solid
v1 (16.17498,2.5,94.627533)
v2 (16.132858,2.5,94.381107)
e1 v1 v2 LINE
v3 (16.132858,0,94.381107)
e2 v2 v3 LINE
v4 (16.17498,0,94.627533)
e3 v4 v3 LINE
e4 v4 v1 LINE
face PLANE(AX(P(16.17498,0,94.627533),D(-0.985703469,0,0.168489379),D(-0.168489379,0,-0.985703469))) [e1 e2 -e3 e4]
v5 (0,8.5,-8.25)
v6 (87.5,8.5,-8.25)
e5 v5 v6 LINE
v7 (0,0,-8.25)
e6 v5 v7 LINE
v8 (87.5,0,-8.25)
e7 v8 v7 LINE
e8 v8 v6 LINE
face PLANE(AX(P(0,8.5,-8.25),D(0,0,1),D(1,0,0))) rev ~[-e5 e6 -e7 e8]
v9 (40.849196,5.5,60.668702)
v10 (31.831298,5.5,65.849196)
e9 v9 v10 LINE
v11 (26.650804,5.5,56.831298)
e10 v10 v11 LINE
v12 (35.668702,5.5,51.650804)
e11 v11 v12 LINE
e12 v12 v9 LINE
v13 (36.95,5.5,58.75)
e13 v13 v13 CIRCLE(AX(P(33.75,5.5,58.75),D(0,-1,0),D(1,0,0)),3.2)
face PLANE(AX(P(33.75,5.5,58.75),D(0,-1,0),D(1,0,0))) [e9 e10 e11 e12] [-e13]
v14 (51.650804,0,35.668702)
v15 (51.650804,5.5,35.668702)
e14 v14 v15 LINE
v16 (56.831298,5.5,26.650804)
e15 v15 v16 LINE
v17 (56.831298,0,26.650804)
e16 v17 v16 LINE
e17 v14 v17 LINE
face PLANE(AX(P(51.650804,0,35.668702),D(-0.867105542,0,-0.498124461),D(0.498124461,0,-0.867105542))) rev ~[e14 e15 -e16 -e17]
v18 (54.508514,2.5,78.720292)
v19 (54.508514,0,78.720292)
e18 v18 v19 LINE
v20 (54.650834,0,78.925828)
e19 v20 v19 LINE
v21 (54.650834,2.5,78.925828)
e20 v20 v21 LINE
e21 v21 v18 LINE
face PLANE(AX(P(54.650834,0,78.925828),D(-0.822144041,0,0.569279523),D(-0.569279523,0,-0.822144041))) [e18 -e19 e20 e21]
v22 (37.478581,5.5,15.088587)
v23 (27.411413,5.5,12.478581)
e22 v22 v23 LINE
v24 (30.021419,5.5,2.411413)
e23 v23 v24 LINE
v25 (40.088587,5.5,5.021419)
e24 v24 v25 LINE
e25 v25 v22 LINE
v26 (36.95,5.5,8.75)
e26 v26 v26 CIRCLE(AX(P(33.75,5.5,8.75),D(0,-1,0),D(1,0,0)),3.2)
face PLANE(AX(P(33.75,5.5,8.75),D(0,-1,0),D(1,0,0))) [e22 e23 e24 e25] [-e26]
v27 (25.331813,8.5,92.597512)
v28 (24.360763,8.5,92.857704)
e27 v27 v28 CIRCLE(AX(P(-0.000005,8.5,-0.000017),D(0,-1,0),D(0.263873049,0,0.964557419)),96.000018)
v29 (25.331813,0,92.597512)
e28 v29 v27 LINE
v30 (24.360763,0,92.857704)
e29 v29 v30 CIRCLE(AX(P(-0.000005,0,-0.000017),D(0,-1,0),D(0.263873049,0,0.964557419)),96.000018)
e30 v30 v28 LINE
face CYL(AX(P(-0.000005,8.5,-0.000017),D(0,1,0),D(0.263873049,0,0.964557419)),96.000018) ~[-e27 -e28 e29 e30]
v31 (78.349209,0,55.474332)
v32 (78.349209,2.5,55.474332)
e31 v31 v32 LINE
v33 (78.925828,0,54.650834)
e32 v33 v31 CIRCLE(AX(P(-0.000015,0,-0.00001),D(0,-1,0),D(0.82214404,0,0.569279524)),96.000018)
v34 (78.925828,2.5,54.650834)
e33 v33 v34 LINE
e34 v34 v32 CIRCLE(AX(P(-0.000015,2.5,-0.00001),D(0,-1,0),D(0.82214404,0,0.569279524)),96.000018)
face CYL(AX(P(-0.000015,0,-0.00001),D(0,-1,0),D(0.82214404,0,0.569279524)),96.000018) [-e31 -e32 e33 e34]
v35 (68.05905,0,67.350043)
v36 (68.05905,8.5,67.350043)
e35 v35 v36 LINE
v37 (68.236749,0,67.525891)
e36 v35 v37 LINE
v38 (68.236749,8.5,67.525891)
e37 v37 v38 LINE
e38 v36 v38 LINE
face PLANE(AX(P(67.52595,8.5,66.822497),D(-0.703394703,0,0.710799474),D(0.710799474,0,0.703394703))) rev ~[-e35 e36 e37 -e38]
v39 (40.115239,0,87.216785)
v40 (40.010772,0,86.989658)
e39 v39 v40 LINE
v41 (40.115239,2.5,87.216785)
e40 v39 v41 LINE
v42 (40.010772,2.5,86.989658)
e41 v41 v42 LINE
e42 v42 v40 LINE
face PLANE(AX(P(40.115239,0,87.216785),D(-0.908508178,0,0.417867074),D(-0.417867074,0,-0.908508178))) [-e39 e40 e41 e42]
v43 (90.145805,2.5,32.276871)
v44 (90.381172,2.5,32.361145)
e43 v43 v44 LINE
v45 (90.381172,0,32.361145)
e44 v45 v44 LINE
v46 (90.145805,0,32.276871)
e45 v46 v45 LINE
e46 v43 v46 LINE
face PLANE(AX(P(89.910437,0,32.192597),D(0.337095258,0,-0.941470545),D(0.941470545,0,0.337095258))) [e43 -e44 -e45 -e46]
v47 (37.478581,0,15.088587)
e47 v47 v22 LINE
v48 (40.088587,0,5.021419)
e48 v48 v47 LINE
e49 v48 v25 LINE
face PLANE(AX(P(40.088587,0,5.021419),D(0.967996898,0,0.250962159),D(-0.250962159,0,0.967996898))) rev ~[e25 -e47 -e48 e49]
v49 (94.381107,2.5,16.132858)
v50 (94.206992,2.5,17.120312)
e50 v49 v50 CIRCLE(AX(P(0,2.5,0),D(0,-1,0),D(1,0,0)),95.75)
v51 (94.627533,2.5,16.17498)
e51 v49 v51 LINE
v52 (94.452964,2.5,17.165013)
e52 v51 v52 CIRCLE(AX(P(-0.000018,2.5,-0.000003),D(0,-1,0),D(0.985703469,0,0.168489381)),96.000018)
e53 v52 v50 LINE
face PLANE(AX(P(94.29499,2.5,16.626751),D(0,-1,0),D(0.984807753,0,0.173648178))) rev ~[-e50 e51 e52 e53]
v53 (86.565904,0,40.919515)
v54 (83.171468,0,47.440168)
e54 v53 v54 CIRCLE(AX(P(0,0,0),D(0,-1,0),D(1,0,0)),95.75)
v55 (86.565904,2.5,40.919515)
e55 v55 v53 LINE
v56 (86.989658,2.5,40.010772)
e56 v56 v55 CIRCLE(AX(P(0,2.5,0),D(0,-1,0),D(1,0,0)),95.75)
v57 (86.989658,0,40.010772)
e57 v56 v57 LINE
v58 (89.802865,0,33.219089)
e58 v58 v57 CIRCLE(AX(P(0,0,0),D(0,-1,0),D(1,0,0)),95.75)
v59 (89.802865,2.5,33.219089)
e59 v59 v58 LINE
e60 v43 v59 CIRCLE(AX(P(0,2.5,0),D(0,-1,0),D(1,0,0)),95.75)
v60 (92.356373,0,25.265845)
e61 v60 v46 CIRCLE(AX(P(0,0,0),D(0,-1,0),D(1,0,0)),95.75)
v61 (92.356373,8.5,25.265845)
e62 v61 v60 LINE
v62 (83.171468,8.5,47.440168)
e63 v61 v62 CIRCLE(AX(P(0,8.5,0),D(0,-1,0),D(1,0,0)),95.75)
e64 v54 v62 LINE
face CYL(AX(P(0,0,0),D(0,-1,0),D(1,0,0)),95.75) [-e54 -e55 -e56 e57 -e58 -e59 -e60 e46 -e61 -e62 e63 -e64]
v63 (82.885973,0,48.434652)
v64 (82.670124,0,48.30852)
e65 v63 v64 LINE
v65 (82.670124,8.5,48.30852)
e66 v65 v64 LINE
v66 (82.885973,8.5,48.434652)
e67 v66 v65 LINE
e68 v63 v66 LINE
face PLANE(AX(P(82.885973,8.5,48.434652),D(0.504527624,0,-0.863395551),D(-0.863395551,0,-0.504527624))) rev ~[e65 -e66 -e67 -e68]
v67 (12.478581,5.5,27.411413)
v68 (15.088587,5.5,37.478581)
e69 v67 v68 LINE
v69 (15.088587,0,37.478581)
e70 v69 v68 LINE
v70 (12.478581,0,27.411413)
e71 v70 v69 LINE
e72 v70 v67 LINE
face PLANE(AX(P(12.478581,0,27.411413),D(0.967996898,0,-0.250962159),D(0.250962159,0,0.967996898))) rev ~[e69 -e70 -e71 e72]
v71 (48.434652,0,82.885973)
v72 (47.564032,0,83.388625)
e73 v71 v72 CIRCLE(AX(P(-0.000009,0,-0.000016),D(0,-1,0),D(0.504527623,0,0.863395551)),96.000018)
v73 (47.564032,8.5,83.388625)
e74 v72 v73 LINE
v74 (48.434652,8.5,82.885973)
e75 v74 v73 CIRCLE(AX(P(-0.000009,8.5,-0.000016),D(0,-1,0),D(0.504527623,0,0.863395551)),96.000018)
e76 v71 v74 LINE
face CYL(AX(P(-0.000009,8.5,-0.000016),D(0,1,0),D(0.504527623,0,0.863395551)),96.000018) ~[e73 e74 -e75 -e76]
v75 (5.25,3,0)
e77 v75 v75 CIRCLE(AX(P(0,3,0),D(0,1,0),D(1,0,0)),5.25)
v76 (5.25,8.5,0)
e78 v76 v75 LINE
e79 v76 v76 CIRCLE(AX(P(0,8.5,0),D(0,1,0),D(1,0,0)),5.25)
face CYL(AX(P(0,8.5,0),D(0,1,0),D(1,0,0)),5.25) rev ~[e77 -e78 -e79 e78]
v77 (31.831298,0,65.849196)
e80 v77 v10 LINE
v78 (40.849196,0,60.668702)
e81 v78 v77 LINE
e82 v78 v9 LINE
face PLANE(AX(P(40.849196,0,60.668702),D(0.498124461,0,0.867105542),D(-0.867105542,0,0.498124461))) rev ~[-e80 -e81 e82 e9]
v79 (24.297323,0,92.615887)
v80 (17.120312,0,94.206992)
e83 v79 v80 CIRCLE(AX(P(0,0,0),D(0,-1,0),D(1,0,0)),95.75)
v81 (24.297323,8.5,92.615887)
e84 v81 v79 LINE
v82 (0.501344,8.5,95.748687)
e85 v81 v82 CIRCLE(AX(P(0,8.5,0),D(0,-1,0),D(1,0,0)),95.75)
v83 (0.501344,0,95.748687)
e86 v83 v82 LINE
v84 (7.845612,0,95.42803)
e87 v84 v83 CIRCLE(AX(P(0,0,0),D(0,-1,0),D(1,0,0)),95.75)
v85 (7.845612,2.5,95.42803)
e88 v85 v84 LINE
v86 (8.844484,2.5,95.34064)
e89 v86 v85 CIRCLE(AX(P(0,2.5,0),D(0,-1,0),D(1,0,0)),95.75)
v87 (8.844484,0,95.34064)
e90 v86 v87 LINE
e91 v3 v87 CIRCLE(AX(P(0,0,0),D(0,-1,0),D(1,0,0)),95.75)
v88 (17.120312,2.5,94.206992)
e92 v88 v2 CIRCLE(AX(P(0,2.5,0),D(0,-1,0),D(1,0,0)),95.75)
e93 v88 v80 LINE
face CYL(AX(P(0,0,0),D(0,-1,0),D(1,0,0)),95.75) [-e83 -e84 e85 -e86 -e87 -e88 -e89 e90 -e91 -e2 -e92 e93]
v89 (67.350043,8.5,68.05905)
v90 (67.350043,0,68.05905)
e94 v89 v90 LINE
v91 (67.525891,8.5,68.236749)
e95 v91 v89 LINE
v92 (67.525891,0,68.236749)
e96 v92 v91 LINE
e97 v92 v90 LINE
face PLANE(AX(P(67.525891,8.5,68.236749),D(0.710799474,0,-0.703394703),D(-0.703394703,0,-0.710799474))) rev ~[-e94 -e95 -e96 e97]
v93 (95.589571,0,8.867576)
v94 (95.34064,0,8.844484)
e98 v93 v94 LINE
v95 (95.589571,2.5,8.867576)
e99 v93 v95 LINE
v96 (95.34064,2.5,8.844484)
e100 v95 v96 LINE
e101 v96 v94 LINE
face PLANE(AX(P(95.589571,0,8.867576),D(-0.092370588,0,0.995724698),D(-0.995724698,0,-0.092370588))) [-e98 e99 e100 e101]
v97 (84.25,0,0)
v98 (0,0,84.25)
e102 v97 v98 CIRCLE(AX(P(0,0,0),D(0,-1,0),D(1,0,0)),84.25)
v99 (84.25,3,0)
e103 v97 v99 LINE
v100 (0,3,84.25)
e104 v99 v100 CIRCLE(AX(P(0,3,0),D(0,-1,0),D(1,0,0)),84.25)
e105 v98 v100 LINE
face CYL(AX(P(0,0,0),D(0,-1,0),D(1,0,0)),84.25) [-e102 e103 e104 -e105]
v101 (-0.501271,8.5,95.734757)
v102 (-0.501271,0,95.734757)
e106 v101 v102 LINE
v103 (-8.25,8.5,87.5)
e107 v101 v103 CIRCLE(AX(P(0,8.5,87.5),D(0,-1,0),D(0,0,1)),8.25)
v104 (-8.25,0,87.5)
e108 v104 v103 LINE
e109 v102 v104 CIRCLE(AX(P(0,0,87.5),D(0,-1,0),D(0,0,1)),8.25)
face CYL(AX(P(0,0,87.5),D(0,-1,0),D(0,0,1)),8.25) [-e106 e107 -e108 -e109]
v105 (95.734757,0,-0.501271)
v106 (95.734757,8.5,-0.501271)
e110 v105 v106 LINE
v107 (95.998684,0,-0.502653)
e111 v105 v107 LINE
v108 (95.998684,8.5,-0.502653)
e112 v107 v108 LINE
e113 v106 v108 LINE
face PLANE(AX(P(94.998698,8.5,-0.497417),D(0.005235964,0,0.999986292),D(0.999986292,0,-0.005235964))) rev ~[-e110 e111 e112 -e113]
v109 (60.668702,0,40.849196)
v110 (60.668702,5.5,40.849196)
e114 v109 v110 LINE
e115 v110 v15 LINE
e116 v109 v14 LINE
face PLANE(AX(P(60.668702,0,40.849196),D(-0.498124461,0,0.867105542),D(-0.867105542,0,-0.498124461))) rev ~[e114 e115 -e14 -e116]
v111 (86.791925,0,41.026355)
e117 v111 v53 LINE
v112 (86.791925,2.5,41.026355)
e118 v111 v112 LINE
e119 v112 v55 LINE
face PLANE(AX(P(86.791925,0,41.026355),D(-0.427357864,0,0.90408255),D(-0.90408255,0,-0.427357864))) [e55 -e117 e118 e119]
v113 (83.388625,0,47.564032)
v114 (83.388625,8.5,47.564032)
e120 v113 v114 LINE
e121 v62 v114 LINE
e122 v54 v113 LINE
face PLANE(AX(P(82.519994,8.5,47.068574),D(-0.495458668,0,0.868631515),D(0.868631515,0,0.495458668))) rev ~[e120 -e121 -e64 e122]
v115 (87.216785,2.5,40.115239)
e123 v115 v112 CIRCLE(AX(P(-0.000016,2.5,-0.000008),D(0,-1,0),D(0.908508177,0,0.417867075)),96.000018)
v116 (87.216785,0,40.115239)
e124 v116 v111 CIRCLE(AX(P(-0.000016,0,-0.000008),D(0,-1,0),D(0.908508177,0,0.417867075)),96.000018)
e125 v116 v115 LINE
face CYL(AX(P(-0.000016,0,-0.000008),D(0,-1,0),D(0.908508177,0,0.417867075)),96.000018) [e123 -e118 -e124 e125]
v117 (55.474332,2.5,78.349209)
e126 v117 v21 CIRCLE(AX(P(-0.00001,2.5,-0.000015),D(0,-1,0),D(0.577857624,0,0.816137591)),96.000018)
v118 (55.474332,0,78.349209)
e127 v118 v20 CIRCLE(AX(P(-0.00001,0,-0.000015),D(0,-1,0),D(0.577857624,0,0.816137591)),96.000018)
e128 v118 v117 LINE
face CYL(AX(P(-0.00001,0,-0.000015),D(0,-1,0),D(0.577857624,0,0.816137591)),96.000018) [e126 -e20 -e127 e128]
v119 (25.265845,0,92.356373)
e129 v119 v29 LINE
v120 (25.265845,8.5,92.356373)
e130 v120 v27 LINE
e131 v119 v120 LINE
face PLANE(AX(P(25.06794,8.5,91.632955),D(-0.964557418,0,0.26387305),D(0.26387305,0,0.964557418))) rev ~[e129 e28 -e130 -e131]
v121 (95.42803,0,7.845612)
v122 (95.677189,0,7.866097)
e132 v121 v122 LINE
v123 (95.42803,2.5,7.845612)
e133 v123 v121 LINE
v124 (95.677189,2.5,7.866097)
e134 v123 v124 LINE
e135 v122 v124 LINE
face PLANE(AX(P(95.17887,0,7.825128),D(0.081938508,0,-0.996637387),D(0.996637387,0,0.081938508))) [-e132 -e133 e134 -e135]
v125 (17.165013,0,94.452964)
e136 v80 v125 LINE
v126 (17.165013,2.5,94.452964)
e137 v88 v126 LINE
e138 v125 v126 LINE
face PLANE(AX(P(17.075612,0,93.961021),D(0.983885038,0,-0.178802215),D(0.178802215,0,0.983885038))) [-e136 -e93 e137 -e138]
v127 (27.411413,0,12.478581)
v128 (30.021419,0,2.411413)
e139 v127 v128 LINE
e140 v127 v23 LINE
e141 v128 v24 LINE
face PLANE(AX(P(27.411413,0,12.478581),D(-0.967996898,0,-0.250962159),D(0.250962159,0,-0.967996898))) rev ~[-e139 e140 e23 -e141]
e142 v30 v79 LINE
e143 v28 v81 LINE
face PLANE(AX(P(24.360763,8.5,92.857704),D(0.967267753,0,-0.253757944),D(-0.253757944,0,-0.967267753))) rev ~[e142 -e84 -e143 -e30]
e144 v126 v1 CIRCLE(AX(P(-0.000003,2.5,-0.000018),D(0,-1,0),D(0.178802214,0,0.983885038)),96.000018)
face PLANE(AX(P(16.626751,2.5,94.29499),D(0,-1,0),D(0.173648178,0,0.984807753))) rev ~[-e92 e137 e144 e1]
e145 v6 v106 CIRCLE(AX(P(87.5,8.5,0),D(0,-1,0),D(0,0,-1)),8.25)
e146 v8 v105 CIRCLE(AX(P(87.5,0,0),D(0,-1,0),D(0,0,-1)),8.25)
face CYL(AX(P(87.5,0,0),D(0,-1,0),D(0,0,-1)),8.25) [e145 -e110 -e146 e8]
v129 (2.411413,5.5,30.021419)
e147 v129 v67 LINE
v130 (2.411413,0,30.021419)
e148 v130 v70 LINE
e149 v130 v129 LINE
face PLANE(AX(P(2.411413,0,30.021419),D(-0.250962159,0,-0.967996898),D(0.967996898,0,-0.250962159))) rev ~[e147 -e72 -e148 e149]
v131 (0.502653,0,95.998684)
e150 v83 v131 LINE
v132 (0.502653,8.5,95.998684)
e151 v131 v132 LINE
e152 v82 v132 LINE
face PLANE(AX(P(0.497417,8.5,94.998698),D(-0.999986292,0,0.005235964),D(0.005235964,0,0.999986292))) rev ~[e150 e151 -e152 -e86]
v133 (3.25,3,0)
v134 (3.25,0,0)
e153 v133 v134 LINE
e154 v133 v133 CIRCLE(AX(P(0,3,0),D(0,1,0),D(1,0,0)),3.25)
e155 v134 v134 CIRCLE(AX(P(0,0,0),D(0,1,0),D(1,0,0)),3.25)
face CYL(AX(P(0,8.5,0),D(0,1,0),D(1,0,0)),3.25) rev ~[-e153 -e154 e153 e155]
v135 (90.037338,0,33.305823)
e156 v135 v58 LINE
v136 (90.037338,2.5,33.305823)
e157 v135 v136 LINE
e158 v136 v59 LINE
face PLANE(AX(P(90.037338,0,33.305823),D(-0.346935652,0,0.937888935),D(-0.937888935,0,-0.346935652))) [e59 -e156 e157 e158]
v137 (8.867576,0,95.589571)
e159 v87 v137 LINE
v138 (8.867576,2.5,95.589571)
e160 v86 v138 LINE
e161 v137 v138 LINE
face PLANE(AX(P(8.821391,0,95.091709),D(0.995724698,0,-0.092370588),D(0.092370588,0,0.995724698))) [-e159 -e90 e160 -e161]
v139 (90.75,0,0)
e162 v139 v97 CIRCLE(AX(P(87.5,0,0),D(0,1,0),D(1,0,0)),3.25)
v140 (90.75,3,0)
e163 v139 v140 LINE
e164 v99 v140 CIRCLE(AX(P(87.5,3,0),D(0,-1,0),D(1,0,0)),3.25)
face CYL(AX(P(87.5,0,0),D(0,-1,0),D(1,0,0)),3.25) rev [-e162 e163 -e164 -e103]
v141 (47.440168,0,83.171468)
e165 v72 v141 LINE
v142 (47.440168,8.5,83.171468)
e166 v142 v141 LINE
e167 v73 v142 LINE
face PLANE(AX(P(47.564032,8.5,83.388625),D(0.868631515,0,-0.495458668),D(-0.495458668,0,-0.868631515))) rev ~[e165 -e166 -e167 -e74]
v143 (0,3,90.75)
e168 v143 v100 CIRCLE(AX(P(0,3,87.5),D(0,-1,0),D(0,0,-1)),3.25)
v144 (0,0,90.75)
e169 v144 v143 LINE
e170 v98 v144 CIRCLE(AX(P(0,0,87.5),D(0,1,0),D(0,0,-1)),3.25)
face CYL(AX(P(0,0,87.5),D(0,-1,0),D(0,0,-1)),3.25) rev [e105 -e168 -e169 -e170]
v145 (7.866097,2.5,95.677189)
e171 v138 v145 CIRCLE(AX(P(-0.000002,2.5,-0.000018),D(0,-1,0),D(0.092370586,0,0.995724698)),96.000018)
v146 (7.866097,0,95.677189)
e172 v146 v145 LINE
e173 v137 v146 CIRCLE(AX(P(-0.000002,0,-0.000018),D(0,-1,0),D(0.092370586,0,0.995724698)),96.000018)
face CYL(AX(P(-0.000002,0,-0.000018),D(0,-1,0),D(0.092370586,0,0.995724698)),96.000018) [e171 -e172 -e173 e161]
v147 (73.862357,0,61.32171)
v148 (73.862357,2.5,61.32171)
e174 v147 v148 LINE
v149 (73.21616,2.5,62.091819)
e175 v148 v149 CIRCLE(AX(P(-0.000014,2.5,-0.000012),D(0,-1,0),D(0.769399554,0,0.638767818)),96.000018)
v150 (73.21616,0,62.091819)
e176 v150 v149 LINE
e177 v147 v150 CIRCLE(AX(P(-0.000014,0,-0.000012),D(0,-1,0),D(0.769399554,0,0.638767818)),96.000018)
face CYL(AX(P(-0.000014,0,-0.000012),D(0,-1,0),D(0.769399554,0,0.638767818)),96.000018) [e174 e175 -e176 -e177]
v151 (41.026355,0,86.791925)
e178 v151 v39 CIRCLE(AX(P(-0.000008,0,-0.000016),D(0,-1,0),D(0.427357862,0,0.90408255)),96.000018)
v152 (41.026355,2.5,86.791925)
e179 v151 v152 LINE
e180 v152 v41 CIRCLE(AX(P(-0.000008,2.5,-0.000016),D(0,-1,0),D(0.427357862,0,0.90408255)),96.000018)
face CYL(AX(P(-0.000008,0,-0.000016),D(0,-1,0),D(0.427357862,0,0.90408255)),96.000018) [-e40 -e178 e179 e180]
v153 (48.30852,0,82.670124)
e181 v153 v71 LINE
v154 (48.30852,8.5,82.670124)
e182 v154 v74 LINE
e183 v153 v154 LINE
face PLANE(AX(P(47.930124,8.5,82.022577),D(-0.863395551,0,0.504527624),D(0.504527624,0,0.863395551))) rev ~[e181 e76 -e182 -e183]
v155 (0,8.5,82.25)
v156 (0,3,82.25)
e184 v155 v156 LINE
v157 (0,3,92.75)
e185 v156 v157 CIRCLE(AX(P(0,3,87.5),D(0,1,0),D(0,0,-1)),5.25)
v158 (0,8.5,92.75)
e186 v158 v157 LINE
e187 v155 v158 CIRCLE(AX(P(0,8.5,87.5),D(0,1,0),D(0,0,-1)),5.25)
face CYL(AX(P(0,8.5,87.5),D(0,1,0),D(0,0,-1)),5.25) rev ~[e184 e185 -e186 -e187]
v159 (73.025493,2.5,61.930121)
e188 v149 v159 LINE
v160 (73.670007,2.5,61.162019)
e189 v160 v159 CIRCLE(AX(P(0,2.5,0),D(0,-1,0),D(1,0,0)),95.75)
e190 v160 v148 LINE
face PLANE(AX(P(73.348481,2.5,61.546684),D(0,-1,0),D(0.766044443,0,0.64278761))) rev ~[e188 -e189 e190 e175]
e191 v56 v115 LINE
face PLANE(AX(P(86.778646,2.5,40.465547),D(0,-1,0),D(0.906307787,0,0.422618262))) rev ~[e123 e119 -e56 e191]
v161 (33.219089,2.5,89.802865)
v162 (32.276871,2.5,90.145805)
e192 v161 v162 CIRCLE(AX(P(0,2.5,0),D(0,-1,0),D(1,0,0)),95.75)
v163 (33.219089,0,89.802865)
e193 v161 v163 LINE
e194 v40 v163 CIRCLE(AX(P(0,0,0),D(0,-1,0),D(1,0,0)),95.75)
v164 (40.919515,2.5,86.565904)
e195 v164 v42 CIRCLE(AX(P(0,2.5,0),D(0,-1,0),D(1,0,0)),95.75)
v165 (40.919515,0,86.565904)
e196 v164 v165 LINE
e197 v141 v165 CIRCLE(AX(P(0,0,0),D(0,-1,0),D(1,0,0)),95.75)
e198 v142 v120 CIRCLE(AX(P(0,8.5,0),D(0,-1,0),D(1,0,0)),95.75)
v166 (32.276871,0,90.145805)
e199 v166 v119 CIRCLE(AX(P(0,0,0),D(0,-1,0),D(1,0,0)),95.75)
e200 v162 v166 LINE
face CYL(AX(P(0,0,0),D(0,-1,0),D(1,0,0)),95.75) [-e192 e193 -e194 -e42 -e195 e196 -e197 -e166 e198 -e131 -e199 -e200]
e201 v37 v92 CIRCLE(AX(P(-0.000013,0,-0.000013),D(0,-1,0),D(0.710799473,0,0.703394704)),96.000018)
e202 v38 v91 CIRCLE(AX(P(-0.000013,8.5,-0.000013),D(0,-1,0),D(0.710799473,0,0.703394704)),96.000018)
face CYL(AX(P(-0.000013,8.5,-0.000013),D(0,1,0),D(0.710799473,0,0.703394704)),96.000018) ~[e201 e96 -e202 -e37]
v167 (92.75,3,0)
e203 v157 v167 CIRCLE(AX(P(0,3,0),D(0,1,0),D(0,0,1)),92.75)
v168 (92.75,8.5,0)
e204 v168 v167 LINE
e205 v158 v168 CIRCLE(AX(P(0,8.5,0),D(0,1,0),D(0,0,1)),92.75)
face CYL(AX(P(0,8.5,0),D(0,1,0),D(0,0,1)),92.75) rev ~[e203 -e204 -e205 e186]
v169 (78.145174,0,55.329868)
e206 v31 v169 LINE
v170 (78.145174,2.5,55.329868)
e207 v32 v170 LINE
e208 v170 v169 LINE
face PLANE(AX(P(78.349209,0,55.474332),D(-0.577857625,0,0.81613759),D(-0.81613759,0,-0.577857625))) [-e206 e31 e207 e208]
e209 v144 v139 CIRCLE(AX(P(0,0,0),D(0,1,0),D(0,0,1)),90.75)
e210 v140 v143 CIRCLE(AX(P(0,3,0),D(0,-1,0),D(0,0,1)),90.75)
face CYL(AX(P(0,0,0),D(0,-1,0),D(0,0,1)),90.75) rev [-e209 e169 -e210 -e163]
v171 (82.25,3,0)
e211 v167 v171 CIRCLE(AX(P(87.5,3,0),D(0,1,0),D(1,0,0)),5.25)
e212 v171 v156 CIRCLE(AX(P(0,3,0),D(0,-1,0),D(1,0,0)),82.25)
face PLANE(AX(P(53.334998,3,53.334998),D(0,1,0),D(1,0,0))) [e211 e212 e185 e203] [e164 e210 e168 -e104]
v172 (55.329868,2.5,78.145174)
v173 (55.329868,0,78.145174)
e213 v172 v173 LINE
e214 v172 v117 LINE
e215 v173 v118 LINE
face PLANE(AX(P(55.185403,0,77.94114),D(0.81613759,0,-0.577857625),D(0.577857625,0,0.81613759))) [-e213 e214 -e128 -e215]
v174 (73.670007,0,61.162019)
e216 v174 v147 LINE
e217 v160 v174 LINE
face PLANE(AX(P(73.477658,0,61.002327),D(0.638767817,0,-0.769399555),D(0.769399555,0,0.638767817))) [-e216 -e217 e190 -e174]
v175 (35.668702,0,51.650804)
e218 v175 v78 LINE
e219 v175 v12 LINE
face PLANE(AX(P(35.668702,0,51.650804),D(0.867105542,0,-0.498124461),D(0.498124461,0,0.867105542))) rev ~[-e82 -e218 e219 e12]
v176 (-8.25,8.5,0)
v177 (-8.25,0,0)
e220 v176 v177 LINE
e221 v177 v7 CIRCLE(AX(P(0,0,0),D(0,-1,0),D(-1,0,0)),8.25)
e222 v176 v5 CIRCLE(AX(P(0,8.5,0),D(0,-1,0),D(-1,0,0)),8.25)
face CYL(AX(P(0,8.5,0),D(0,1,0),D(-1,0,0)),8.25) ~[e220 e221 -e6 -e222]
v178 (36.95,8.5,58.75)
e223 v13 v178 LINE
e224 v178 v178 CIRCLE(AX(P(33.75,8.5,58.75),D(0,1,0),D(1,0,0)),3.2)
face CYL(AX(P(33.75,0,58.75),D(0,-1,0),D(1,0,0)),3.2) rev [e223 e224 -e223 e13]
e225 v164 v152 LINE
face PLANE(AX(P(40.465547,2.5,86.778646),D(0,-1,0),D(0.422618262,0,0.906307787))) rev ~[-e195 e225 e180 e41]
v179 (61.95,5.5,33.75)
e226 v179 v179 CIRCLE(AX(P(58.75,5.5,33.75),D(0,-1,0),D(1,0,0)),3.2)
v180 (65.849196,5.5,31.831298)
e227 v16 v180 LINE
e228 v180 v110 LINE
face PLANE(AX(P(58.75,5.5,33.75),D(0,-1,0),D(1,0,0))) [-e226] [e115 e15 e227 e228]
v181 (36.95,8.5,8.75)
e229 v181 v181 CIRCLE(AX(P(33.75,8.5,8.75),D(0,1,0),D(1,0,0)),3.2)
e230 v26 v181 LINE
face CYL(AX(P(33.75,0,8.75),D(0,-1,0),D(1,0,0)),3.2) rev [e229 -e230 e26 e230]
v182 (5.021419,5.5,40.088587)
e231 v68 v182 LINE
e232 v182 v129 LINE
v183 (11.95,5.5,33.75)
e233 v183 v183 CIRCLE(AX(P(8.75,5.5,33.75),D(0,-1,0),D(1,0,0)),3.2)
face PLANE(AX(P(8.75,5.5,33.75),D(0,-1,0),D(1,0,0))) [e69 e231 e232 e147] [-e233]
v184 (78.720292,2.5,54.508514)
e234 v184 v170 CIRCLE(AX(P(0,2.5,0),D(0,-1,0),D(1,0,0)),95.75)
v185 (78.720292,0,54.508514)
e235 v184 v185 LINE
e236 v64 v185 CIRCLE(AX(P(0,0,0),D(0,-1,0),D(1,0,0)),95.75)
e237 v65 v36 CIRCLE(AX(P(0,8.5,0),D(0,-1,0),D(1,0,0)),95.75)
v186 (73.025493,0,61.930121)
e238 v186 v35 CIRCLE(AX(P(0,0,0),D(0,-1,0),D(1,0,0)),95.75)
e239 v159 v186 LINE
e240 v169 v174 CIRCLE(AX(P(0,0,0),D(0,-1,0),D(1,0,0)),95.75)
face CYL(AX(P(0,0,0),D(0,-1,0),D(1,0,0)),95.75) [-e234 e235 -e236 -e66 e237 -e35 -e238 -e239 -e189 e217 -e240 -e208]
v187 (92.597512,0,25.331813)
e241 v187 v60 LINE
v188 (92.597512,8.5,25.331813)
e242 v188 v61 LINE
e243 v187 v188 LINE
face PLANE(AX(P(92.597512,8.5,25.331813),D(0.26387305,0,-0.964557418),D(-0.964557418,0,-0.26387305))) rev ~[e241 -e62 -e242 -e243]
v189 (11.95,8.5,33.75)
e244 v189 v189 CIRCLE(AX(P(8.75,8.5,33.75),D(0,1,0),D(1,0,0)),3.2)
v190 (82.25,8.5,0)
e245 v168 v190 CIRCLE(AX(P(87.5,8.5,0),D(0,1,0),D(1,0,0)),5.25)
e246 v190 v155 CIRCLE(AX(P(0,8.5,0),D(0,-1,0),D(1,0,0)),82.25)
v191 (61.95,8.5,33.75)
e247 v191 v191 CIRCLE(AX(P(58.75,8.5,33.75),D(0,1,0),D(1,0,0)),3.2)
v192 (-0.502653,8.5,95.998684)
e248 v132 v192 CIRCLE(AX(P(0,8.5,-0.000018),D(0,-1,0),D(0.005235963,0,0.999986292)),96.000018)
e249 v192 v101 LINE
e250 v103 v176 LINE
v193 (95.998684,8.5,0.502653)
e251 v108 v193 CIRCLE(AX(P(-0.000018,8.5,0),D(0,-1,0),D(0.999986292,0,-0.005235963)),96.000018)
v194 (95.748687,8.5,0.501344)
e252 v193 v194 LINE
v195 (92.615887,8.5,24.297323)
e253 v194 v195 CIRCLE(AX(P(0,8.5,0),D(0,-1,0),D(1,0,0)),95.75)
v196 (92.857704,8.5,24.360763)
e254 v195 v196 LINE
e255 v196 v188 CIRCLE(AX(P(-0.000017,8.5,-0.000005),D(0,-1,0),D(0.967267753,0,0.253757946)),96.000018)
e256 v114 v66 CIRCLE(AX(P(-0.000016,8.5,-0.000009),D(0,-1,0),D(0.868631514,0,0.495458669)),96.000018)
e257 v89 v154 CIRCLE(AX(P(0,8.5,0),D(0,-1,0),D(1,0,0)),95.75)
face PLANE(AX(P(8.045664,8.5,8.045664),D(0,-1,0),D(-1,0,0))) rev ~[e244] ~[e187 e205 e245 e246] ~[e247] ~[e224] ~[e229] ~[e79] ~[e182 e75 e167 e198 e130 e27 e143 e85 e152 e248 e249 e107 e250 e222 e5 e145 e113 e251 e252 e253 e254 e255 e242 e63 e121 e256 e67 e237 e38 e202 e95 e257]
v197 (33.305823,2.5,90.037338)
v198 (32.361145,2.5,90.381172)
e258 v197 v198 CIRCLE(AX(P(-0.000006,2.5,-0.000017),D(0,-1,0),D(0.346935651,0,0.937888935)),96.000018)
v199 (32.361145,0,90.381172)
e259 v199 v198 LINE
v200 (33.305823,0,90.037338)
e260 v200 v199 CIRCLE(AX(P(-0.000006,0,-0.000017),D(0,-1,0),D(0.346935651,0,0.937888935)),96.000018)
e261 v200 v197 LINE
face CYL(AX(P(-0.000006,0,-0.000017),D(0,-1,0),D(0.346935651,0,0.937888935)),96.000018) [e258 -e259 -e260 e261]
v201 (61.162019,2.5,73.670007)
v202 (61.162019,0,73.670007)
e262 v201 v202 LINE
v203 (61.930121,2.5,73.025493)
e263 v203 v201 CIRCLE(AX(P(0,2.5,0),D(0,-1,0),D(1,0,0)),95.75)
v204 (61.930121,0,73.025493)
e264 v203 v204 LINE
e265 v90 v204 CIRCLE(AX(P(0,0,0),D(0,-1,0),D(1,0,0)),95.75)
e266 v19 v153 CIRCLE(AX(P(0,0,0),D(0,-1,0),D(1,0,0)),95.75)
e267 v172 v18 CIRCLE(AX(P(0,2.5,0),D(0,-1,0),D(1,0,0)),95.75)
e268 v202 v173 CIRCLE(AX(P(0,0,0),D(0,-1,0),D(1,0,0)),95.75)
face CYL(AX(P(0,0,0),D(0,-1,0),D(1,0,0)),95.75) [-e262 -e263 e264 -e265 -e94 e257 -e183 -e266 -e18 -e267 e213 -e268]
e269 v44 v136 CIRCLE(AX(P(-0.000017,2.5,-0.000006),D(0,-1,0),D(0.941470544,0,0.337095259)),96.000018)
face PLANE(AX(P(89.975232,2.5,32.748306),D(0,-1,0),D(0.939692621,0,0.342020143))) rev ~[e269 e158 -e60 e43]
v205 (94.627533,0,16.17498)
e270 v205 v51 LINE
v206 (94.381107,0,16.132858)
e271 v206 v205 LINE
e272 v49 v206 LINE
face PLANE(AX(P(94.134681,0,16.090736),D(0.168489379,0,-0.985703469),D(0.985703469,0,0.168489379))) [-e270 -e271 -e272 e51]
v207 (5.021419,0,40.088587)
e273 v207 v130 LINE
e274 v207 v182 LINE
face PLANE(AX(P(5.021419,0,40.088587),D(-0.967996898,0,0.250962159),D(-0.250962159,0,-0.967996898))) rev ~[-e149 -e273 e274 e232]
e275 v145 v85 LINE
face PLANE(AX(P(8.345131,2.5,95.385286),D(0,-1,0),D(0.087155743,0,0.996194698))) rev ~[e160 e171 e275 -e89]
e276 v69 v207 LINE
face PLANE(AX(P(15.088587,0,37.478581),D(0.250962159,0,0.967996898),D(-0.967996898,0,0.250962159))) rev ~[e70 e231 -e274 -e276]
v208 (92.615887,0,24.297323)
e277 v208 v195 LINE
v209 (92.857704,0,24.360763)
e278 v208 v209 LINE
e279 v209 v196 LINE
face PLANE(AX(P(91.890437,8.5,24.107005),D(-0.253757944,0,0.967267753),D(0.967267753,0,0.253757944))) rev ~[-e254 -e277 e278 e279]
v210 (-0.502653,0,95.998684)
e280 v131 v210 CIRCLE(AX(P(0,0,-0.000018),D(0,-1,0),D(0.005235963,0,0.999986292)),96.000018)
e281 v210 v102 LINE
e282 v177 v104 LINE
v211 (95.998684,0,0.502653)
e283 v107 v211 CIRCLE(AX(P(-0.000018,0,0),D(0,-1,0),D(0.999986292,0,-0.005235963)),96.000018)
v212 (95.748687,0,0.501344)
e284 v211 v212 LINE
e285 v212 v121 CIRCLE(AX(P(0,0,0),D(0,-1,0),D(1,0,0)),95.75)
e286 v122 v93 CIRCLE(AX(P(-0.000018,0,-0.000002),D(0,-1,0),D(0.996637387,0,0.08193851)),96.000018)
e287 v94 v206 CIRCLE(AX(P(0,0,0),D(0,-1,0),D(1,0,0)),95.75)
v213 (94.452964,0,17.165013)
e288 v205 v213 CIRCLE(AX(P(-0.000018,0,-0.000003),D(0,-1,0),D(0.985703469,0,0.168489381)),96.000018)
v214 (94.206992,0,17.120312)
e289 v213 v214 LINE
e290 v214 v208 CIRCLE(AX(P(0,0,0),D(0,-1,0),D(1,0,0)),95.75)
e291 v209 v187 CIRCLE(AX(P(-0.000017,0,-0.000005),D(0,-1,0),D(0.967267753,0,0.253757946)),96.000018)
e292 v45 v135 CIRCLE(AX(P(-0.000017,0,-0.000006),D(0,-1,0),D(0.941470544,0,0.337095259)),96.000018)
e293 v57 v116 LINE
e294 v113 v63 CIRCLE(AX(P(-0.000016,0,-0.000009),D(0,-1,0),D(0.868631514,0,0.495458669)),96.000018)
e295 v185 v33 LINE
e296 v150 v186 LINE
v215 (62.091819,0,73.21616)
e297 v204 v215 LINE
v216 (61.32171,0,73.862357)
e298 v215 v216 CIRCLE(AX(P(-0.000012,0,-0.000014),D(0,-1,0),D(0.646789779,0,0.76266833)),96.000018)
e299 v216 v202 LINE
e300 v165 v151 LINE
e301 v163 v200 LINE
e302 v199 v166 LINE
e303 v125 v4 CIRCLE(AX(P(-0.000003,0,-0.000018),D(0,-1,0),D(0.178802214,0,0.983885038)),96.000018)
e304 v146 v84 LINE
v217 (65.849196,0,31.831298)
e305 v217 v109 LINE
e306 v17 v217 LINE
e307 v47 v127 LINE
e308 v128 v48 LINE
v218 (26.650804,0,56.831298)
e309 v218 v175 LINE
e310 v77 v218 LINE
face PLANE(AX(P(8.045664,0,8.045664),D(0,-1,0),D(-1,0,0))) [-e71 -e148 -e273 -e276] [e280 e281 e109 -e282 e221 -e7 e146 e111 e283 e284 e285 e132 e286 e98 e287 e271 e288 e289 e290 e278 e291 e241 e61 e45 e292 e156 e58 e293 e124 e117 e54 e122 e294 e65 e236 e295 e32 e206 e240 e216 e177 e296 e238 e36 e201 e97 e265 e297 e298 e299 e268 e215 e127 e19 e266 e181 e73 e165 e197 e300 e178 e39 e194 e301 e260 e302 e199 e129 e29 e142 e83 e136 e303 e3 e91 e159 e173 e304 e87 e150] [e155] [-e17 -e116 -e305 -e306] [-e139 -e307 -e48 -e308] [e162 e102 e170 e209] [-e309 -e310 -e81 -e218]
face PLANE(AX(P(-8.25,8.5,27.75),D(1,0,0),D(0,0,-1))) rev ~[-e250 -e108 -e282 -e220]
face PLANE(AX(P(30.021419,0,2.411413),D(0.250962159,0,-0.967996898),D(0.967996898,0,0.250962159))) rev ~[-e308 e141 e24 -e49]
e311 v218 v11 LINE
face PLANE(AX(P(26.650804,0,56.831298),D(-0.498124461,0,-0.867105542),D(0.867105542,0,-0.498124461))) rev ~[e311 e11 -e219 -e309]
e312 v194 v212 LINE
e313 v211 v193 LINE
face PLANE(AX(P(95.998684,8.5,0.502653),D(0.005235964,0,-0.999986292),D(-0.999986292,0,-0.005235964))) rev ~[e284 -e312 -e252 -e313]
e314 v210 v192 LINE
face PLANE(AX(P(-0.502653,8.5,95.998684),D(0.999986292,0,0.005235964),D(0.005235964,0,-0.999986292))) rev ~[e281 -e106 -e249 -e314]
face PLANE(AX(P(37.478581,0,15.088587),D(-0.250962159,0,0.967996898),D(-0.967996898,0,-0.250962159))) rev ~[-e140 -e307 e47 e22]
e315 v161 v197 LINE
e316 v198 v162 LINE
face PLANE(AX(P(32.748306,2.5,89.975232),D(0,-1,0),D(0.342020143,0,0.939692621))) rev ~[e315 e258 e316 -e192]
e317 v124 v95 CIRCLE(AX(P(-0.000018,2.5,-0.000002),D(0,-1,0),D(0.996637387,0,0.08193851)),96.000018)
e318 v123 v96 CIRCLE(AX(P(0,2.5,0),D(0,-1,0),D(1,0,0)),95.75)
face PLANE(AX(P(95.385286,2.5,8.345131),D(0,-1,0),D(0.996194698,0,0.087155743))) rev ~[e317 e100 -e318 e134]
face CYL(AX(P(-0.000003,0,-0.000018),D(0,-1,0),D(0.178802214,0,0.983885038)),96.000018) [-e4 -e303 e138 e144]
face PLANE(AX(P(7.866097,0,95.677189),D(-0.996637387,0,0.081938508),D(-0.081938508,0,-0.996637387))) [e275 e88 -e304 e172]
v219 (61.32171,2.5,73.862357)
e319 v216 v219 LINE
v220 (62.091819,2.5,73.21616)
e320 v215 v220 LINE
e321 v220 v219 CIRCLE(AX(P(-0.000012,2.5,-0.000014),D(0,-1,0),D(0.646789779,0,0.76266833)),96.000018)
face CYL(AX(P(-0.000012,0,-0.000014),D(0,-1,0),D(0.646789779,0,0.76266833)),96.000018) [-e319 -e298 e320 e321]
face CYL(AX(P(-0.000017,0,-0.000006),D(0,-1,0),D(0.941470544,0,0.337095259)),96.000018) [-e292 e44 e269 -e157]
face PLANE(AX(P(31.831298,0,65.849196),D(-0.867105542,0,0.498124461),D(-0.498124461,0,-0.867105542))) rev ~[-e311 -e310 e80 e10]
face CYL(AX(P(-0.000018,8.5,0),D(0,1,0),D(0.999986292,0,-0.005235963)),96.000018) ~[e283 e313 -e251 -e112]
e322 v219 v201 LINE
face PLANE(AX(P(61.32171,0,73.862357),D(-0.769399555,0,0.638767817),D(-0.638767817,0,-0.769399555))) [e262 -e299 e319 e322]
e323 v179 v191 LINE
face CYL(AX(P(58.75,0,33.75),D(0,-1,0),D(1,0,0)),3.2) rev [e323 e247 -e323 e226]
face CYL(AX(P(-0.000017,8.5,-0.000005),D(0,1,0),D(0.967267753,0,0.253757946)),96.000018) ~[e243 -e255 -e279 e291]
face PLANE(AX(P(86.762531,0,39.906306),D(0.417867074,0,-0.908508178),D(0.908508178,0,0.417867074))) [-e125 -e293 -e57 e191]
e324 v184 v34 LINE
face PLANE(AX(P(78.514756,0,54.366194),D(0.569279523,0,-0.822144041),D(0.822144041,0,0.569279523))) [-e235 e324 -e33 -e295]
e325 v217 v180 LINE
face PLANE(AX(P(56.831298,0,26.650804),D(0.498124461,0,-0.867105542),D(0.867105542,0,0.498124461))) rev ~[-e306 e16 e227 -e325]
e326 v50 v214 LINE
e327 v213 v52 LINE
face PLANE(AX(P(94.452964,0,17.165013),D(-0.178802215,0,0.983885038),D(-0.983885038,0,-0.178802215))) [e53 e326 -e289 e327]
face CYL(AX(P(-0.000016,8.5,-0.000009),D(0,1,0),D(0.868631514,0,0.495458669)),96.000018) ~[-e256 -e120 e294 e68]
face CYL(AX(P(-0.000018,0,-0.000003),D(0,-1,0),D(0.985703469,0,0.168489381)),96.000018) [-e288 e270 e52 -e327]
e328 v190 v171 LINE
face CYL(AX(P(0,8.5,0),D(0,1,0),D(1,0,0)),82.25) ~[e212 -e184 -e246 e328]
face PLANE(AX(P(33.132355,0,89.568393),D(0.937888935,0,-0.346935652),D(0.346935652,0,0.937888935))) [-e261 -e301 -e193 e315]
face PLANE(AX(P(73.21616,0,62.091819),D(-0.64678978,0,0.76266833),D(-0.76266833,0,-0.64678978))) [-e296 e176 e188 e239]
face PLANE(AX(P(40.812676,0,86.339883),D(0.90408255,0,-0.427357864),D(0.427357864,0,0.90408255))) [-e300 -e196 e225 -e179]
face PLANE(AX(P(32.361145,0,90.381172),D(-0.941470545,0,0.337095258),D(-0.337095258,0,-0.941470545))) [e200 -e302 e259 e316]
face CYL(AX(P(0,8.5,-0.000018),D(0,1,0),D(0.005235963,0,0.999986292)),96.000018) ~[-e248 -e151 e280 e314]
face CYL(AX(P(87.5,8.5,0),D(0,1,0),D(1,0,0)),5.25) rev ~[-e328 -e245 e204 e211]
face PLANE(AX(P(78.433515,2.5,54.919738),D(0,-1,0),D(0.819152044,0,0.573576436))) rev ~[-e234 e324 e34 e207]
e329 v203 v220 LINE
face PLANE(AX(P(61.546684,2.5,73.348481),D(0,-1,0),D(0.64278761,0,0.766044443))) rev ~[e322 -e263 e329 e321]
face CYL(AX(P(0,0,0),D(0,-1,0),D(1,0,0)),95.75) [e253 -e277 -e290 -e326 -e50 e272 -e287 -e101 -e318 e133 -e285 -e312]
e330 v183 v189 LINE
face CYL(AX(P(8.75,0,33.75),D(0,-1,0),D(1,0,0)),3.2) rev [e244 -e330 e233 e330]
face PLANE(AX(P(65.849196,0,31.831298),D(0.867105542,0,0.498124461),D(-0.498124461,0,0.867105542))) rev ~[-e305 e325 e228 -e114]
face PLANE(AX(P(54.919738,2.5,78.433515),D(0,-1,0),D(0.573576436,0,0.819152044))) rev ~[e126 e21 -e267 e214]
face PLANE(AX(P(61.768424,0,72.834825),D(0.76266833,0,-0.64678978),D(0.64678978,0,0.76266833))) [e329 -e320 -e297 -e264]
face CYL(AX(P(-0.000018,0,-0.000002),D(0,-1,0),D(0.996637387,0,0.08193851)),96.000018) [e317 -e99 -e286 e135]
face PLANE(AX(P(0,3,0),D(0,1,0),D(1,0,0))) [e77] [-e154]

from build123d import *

# Parameters (mm, degrees)
SKETCH_1_R               = 3.2
EXTRUDE_1_DEPTH          = 8.5
EXTRUDE_2_DEPTH          = 8.5
PATTERN_CIRCULAR_1_COUNT = 7
PATTERN_CIRCULAR_1_ANGLE = 90
EXTRUDE_3_DEPTH          = 2.5
PATTERN_CIRCULAR_2_COUNT = 19
PATTERN_CIRCULAR_2_ANGLE = 90
CUT_EXTRUDE_1_DEPTH      = 5.5
CUT_EXTRUDE_2_DEPTH      = 5.5
EXTRUDE_4_DEPTH          = 8.5
SKETCH_10_R              = 3.25
CUT_EXTRUDE_3_DEPTH      = 8.5
SKETCH_11_R              = 5.25
CUT_EXTRUDE_4_DEPTH      = 5.5


with BuildPart() as part:
    # 스케치1 → 보스-돌출1 (new body)
    with BuildSketch(Plane(origin=(0, 0, 0), x_dir=(1, 0, 0), z_dir=(0, 1, 0))):
        with BuildLine():
            Line((-8.25, -87.5), (-8.25, -22.5))
            ThreePointArc((-8.25, -22.5), (-5.833630945, -16.666369055), (0, -14.25))
            ThreePointArc((0, -14.25), (10.076271632, -10.076271632), (14.25, 0))
            ThreePointArc((14.25, 0), (16.666369055, 5.833630945), (22.5, 8.25))
            Line((22.5, 8.25), (87.5, 8.25))
            ThreePointArc((87.5, 8.25), (93.333630945, 5.833630945), (95.75, 0))
            ThreePointArc((95.75, 0), (67.705474299, -67.705474299), (0, -95.75))
            ThreePointArc((0, -95.75), (-5.833630945, -93.333630945), (-8.25, -87.5))
        make_face()
        with Locations((58.75, -33.75)):
            Circle(SKETCH_1_R, mode=Mode.SUBTRACT)
        with Locations((33.75, -58.75)):
            Circle(SKETCH_1_R, mode=Mode.SUBTRACT)
        with Locations((8.75, -33.75)):
            Circle(SKETCH_1_R, mode=Mode.SUBTRACT)
        with Locations((33.75, -8.75)):
            Circle(SKETCH_1_R, mode=Mode.SUBTRACT)
        with BuildLine():
            ThreePointArc((0, -19.25), (-3.25, -22.5), (0, -25.75))
            ThreePointArc((0, -25.75), (18.207999616, -18.207999616), (25.75, 0))
            ThreePointArc((25.75, 0), (22.5, 3.25), (19.25, 0))
            ThreePointArc((19.25, 0), (13.611805538, -13.611805538), (0, -19.25))
        make_face(mode=Mode.SUBTRACT)
        with BuildLine():
            ThreePointArc((0, -84.25), (-3.25, -87.5), (0, -90.75))
            ThreePointArc((0, -90.75), (64.169940393, -64.169940393), (90.75, 0))
            ThreePointArc((90.75, 0), (87.5, 3.25), (84.25, 0))
            ThreePointArc((84.25, 0), (59.573746315, -59.573746315), (0, -84.25))
        make_face(mode=Mode.SUBTRACT)
    extrude(amount=EXTRUDE_1_DEPTH)

    # 스케치2 → 보스-돌출2 (add)
    with BuildSketch(Plane(origin=(0, 8.5, 0), x_dir=(1, 0, 0), z_dir=(0, 1, 0))):
        with BuildLine():
            Line((0.497416564, -94.998697764), (0.502652528, -95.998684056))
            ThreePointArc((0.502652528, -95.998684056), (0, -96), (-0.502652528, -95.998684056))
            Line((-0.502652528, -95.998684056), (-0.497416564, -94.998697764))
            ThreePointArc((-0.497416564, -94.998697764), (0, -95), (0.497416564, -94.998697764))
        make_face()
    extrude_2 = extrude(amount=-EXTRUDE_2_DEPTH)

    # 원형 패턴1: 보스-돌출2 ×7 about axis
    pattern_circular_1_axis = Axis((0, 0, 0), (0, 1, 0))
    for i in range(1, PATTERN_CIRCULAR_1_COUNT):
        add(extrude_2.rotate(pattern_circular_1_axis, i * PATTERN_CIRCULAR_1_ANGLE / (PATTERN_CIRCULAR_1_COUNT - 1)))

    # 스케치6 → 보스-돌출3 (add)
    with BuildSketch(Plane.XZ):
        with BuildLine():
            Line((95.998684056, 0.502652528), (95.49869091, 0.500034546))
            ThreePointArc((95.49869091, 0.500034546), (95.5, 0), (95.49869091, -0.500034546))
            Line((95.49869091, -0.500034546), (95.998684056, -0.502652528))
            ThreePointArc((95.998684056, -0.502652528), (96, 0), (95.998684056, 0.502652528))
        make_face()
    extrude_3 = extrude(amount=-EXTRUDE_3_DEPTH)

    # 원형 패턴2: 보스-돌출3 ×19 about axis
    pattern_circular_2_axis = Axis((0, 8.5, 0), (0, -1, 0))
    for i in range(1, PATTERN_CIRCULAR_2_COUNT):
        add(extrude_3.rotate(pattern_circular_2_axis, i * PATTERN_CIRCULAR_2_ANGLE / (PATTERN_CIRCULAR_2_COUNT - 1)))

    # 스케치7 → 컷-돌출1 (cut)
    with BuildSketch(Plane.XZ):
        Polygon((26.650803984, 56.831298374), (35.668701626, 51.650803984), (40.849196016, 60.668701626), (31.831298374, 65.849196016), align=None)
        Polygon((51.650803984, 35.668701626), (56.831298374, 26.650803984), (65.849196016, 31.831298374), (60.668701626, 40.849196016), align=None)
        Polygon((30.021419355, 2.411412904), (40.088587096, 5.021419355), (37.478580645, 15.088587096), (27.411412904, 12.478580645), align=None)
        Polygon((2.411412904, 30.021419355), (12.478580645, 27.411412904), (15.088587096, 37.478580645), (5.021419355, 40.088587096), align=None)
    extrude(amount=-CUT_EXTRUDE_1_DEPTH, mode=Mode.SUBTRACT)

    # 스케치8 → 컷-돌출2 (cut)
    with BuildSketch(Plane(origin=(0, 8.5, 0), x_dir=(1, 0, 0), z_dir=(0, 1, 0))):
        with BuildLine():
            ThreePointArc((27.75, 0), (22.5, 5.25), (17.25, 0))
            ThreePointArc((17.25, 0), (12.197591975, -12.197591975), (0, -17.25))
            ThreePointArc((0, -17.25), (-5.25, -22.5), (0, -27.75))
            ThreePointArc((0, -27.75), (19.622213178, -19.622213178), (27.75, 0))
        make_face()
        with BuildLine():
            ThreePointArc((92.75, 0), (87.5, 5.25), (82.25, 0))
            ThreePointArc((82.25, 0), (58.159532753, -58.159532753), (0, -82.25))
            ThreePointArc((0, -82.25), (-5.25, -87.5), (0, -92.75))
            ThreePointArc((0, -92.75), (65.584153955, -65.584153955), (92.75, 0))
        make_face()
    extrude(amount=-CUT_EXTRUDE_2_DEPTH, mode=Mode.SUBTRACT)

    # 스케치9 → 보스-돌출4 (add)
    with BuildSketch(Plane(origin=(0, 8.5, 0), x_dir=(1, 0, 0), z_dir=(0, 1, 0))):
        with BuildLine():
            Line((-8.25, -22.5), (-8.25, 0))
            ThreePointArc((-8.25, 0), (-5.833630945, 5.833630945), (0, 8.25))
            Line((0, 8.25), (22.5, 8.25))
            Line((22.5, 8.25), (27.75, 8.25))
            Line((27.75, 8.25), (27.75, 0))
            ThreePointArc((27.75, 0), (19.622213178, -19.622213178), (0, -27.75))
            Line((0, -27.75), (-8.25, -27.75))
            Line((-8.25, -27.75), (-8.25, -22.5))
        make_face()
    extrude(amount=-EXTRUDE_4_DEPTH)

    # 스케치10 → 컷-돌출3 (cut)
    with BuildSketch(Plane(origin=(0, 8.5, 0), x_dir=(1, 0, 0), z_dir=(0, 1, 0))):
        Circle(SKETCH_10_R)
    extrude(amount=-CUT_EXTRUDE_3_DEPTH, mode=Mode.SUBTRACT)

    # 스케치11 → 컷-돌출4 (cut)
    with BuildSketch(Plane(origin=(0, 8.5, 0), x_dir=(1, 0, 0), z_dir=(0, 1, 0))):
        Circle(SKETCH_11_R)
    extrude(amount=-CUT_EXTRUDE_4_DEPTH, mode=Mode.SUBTRACT)


solid = part.part
